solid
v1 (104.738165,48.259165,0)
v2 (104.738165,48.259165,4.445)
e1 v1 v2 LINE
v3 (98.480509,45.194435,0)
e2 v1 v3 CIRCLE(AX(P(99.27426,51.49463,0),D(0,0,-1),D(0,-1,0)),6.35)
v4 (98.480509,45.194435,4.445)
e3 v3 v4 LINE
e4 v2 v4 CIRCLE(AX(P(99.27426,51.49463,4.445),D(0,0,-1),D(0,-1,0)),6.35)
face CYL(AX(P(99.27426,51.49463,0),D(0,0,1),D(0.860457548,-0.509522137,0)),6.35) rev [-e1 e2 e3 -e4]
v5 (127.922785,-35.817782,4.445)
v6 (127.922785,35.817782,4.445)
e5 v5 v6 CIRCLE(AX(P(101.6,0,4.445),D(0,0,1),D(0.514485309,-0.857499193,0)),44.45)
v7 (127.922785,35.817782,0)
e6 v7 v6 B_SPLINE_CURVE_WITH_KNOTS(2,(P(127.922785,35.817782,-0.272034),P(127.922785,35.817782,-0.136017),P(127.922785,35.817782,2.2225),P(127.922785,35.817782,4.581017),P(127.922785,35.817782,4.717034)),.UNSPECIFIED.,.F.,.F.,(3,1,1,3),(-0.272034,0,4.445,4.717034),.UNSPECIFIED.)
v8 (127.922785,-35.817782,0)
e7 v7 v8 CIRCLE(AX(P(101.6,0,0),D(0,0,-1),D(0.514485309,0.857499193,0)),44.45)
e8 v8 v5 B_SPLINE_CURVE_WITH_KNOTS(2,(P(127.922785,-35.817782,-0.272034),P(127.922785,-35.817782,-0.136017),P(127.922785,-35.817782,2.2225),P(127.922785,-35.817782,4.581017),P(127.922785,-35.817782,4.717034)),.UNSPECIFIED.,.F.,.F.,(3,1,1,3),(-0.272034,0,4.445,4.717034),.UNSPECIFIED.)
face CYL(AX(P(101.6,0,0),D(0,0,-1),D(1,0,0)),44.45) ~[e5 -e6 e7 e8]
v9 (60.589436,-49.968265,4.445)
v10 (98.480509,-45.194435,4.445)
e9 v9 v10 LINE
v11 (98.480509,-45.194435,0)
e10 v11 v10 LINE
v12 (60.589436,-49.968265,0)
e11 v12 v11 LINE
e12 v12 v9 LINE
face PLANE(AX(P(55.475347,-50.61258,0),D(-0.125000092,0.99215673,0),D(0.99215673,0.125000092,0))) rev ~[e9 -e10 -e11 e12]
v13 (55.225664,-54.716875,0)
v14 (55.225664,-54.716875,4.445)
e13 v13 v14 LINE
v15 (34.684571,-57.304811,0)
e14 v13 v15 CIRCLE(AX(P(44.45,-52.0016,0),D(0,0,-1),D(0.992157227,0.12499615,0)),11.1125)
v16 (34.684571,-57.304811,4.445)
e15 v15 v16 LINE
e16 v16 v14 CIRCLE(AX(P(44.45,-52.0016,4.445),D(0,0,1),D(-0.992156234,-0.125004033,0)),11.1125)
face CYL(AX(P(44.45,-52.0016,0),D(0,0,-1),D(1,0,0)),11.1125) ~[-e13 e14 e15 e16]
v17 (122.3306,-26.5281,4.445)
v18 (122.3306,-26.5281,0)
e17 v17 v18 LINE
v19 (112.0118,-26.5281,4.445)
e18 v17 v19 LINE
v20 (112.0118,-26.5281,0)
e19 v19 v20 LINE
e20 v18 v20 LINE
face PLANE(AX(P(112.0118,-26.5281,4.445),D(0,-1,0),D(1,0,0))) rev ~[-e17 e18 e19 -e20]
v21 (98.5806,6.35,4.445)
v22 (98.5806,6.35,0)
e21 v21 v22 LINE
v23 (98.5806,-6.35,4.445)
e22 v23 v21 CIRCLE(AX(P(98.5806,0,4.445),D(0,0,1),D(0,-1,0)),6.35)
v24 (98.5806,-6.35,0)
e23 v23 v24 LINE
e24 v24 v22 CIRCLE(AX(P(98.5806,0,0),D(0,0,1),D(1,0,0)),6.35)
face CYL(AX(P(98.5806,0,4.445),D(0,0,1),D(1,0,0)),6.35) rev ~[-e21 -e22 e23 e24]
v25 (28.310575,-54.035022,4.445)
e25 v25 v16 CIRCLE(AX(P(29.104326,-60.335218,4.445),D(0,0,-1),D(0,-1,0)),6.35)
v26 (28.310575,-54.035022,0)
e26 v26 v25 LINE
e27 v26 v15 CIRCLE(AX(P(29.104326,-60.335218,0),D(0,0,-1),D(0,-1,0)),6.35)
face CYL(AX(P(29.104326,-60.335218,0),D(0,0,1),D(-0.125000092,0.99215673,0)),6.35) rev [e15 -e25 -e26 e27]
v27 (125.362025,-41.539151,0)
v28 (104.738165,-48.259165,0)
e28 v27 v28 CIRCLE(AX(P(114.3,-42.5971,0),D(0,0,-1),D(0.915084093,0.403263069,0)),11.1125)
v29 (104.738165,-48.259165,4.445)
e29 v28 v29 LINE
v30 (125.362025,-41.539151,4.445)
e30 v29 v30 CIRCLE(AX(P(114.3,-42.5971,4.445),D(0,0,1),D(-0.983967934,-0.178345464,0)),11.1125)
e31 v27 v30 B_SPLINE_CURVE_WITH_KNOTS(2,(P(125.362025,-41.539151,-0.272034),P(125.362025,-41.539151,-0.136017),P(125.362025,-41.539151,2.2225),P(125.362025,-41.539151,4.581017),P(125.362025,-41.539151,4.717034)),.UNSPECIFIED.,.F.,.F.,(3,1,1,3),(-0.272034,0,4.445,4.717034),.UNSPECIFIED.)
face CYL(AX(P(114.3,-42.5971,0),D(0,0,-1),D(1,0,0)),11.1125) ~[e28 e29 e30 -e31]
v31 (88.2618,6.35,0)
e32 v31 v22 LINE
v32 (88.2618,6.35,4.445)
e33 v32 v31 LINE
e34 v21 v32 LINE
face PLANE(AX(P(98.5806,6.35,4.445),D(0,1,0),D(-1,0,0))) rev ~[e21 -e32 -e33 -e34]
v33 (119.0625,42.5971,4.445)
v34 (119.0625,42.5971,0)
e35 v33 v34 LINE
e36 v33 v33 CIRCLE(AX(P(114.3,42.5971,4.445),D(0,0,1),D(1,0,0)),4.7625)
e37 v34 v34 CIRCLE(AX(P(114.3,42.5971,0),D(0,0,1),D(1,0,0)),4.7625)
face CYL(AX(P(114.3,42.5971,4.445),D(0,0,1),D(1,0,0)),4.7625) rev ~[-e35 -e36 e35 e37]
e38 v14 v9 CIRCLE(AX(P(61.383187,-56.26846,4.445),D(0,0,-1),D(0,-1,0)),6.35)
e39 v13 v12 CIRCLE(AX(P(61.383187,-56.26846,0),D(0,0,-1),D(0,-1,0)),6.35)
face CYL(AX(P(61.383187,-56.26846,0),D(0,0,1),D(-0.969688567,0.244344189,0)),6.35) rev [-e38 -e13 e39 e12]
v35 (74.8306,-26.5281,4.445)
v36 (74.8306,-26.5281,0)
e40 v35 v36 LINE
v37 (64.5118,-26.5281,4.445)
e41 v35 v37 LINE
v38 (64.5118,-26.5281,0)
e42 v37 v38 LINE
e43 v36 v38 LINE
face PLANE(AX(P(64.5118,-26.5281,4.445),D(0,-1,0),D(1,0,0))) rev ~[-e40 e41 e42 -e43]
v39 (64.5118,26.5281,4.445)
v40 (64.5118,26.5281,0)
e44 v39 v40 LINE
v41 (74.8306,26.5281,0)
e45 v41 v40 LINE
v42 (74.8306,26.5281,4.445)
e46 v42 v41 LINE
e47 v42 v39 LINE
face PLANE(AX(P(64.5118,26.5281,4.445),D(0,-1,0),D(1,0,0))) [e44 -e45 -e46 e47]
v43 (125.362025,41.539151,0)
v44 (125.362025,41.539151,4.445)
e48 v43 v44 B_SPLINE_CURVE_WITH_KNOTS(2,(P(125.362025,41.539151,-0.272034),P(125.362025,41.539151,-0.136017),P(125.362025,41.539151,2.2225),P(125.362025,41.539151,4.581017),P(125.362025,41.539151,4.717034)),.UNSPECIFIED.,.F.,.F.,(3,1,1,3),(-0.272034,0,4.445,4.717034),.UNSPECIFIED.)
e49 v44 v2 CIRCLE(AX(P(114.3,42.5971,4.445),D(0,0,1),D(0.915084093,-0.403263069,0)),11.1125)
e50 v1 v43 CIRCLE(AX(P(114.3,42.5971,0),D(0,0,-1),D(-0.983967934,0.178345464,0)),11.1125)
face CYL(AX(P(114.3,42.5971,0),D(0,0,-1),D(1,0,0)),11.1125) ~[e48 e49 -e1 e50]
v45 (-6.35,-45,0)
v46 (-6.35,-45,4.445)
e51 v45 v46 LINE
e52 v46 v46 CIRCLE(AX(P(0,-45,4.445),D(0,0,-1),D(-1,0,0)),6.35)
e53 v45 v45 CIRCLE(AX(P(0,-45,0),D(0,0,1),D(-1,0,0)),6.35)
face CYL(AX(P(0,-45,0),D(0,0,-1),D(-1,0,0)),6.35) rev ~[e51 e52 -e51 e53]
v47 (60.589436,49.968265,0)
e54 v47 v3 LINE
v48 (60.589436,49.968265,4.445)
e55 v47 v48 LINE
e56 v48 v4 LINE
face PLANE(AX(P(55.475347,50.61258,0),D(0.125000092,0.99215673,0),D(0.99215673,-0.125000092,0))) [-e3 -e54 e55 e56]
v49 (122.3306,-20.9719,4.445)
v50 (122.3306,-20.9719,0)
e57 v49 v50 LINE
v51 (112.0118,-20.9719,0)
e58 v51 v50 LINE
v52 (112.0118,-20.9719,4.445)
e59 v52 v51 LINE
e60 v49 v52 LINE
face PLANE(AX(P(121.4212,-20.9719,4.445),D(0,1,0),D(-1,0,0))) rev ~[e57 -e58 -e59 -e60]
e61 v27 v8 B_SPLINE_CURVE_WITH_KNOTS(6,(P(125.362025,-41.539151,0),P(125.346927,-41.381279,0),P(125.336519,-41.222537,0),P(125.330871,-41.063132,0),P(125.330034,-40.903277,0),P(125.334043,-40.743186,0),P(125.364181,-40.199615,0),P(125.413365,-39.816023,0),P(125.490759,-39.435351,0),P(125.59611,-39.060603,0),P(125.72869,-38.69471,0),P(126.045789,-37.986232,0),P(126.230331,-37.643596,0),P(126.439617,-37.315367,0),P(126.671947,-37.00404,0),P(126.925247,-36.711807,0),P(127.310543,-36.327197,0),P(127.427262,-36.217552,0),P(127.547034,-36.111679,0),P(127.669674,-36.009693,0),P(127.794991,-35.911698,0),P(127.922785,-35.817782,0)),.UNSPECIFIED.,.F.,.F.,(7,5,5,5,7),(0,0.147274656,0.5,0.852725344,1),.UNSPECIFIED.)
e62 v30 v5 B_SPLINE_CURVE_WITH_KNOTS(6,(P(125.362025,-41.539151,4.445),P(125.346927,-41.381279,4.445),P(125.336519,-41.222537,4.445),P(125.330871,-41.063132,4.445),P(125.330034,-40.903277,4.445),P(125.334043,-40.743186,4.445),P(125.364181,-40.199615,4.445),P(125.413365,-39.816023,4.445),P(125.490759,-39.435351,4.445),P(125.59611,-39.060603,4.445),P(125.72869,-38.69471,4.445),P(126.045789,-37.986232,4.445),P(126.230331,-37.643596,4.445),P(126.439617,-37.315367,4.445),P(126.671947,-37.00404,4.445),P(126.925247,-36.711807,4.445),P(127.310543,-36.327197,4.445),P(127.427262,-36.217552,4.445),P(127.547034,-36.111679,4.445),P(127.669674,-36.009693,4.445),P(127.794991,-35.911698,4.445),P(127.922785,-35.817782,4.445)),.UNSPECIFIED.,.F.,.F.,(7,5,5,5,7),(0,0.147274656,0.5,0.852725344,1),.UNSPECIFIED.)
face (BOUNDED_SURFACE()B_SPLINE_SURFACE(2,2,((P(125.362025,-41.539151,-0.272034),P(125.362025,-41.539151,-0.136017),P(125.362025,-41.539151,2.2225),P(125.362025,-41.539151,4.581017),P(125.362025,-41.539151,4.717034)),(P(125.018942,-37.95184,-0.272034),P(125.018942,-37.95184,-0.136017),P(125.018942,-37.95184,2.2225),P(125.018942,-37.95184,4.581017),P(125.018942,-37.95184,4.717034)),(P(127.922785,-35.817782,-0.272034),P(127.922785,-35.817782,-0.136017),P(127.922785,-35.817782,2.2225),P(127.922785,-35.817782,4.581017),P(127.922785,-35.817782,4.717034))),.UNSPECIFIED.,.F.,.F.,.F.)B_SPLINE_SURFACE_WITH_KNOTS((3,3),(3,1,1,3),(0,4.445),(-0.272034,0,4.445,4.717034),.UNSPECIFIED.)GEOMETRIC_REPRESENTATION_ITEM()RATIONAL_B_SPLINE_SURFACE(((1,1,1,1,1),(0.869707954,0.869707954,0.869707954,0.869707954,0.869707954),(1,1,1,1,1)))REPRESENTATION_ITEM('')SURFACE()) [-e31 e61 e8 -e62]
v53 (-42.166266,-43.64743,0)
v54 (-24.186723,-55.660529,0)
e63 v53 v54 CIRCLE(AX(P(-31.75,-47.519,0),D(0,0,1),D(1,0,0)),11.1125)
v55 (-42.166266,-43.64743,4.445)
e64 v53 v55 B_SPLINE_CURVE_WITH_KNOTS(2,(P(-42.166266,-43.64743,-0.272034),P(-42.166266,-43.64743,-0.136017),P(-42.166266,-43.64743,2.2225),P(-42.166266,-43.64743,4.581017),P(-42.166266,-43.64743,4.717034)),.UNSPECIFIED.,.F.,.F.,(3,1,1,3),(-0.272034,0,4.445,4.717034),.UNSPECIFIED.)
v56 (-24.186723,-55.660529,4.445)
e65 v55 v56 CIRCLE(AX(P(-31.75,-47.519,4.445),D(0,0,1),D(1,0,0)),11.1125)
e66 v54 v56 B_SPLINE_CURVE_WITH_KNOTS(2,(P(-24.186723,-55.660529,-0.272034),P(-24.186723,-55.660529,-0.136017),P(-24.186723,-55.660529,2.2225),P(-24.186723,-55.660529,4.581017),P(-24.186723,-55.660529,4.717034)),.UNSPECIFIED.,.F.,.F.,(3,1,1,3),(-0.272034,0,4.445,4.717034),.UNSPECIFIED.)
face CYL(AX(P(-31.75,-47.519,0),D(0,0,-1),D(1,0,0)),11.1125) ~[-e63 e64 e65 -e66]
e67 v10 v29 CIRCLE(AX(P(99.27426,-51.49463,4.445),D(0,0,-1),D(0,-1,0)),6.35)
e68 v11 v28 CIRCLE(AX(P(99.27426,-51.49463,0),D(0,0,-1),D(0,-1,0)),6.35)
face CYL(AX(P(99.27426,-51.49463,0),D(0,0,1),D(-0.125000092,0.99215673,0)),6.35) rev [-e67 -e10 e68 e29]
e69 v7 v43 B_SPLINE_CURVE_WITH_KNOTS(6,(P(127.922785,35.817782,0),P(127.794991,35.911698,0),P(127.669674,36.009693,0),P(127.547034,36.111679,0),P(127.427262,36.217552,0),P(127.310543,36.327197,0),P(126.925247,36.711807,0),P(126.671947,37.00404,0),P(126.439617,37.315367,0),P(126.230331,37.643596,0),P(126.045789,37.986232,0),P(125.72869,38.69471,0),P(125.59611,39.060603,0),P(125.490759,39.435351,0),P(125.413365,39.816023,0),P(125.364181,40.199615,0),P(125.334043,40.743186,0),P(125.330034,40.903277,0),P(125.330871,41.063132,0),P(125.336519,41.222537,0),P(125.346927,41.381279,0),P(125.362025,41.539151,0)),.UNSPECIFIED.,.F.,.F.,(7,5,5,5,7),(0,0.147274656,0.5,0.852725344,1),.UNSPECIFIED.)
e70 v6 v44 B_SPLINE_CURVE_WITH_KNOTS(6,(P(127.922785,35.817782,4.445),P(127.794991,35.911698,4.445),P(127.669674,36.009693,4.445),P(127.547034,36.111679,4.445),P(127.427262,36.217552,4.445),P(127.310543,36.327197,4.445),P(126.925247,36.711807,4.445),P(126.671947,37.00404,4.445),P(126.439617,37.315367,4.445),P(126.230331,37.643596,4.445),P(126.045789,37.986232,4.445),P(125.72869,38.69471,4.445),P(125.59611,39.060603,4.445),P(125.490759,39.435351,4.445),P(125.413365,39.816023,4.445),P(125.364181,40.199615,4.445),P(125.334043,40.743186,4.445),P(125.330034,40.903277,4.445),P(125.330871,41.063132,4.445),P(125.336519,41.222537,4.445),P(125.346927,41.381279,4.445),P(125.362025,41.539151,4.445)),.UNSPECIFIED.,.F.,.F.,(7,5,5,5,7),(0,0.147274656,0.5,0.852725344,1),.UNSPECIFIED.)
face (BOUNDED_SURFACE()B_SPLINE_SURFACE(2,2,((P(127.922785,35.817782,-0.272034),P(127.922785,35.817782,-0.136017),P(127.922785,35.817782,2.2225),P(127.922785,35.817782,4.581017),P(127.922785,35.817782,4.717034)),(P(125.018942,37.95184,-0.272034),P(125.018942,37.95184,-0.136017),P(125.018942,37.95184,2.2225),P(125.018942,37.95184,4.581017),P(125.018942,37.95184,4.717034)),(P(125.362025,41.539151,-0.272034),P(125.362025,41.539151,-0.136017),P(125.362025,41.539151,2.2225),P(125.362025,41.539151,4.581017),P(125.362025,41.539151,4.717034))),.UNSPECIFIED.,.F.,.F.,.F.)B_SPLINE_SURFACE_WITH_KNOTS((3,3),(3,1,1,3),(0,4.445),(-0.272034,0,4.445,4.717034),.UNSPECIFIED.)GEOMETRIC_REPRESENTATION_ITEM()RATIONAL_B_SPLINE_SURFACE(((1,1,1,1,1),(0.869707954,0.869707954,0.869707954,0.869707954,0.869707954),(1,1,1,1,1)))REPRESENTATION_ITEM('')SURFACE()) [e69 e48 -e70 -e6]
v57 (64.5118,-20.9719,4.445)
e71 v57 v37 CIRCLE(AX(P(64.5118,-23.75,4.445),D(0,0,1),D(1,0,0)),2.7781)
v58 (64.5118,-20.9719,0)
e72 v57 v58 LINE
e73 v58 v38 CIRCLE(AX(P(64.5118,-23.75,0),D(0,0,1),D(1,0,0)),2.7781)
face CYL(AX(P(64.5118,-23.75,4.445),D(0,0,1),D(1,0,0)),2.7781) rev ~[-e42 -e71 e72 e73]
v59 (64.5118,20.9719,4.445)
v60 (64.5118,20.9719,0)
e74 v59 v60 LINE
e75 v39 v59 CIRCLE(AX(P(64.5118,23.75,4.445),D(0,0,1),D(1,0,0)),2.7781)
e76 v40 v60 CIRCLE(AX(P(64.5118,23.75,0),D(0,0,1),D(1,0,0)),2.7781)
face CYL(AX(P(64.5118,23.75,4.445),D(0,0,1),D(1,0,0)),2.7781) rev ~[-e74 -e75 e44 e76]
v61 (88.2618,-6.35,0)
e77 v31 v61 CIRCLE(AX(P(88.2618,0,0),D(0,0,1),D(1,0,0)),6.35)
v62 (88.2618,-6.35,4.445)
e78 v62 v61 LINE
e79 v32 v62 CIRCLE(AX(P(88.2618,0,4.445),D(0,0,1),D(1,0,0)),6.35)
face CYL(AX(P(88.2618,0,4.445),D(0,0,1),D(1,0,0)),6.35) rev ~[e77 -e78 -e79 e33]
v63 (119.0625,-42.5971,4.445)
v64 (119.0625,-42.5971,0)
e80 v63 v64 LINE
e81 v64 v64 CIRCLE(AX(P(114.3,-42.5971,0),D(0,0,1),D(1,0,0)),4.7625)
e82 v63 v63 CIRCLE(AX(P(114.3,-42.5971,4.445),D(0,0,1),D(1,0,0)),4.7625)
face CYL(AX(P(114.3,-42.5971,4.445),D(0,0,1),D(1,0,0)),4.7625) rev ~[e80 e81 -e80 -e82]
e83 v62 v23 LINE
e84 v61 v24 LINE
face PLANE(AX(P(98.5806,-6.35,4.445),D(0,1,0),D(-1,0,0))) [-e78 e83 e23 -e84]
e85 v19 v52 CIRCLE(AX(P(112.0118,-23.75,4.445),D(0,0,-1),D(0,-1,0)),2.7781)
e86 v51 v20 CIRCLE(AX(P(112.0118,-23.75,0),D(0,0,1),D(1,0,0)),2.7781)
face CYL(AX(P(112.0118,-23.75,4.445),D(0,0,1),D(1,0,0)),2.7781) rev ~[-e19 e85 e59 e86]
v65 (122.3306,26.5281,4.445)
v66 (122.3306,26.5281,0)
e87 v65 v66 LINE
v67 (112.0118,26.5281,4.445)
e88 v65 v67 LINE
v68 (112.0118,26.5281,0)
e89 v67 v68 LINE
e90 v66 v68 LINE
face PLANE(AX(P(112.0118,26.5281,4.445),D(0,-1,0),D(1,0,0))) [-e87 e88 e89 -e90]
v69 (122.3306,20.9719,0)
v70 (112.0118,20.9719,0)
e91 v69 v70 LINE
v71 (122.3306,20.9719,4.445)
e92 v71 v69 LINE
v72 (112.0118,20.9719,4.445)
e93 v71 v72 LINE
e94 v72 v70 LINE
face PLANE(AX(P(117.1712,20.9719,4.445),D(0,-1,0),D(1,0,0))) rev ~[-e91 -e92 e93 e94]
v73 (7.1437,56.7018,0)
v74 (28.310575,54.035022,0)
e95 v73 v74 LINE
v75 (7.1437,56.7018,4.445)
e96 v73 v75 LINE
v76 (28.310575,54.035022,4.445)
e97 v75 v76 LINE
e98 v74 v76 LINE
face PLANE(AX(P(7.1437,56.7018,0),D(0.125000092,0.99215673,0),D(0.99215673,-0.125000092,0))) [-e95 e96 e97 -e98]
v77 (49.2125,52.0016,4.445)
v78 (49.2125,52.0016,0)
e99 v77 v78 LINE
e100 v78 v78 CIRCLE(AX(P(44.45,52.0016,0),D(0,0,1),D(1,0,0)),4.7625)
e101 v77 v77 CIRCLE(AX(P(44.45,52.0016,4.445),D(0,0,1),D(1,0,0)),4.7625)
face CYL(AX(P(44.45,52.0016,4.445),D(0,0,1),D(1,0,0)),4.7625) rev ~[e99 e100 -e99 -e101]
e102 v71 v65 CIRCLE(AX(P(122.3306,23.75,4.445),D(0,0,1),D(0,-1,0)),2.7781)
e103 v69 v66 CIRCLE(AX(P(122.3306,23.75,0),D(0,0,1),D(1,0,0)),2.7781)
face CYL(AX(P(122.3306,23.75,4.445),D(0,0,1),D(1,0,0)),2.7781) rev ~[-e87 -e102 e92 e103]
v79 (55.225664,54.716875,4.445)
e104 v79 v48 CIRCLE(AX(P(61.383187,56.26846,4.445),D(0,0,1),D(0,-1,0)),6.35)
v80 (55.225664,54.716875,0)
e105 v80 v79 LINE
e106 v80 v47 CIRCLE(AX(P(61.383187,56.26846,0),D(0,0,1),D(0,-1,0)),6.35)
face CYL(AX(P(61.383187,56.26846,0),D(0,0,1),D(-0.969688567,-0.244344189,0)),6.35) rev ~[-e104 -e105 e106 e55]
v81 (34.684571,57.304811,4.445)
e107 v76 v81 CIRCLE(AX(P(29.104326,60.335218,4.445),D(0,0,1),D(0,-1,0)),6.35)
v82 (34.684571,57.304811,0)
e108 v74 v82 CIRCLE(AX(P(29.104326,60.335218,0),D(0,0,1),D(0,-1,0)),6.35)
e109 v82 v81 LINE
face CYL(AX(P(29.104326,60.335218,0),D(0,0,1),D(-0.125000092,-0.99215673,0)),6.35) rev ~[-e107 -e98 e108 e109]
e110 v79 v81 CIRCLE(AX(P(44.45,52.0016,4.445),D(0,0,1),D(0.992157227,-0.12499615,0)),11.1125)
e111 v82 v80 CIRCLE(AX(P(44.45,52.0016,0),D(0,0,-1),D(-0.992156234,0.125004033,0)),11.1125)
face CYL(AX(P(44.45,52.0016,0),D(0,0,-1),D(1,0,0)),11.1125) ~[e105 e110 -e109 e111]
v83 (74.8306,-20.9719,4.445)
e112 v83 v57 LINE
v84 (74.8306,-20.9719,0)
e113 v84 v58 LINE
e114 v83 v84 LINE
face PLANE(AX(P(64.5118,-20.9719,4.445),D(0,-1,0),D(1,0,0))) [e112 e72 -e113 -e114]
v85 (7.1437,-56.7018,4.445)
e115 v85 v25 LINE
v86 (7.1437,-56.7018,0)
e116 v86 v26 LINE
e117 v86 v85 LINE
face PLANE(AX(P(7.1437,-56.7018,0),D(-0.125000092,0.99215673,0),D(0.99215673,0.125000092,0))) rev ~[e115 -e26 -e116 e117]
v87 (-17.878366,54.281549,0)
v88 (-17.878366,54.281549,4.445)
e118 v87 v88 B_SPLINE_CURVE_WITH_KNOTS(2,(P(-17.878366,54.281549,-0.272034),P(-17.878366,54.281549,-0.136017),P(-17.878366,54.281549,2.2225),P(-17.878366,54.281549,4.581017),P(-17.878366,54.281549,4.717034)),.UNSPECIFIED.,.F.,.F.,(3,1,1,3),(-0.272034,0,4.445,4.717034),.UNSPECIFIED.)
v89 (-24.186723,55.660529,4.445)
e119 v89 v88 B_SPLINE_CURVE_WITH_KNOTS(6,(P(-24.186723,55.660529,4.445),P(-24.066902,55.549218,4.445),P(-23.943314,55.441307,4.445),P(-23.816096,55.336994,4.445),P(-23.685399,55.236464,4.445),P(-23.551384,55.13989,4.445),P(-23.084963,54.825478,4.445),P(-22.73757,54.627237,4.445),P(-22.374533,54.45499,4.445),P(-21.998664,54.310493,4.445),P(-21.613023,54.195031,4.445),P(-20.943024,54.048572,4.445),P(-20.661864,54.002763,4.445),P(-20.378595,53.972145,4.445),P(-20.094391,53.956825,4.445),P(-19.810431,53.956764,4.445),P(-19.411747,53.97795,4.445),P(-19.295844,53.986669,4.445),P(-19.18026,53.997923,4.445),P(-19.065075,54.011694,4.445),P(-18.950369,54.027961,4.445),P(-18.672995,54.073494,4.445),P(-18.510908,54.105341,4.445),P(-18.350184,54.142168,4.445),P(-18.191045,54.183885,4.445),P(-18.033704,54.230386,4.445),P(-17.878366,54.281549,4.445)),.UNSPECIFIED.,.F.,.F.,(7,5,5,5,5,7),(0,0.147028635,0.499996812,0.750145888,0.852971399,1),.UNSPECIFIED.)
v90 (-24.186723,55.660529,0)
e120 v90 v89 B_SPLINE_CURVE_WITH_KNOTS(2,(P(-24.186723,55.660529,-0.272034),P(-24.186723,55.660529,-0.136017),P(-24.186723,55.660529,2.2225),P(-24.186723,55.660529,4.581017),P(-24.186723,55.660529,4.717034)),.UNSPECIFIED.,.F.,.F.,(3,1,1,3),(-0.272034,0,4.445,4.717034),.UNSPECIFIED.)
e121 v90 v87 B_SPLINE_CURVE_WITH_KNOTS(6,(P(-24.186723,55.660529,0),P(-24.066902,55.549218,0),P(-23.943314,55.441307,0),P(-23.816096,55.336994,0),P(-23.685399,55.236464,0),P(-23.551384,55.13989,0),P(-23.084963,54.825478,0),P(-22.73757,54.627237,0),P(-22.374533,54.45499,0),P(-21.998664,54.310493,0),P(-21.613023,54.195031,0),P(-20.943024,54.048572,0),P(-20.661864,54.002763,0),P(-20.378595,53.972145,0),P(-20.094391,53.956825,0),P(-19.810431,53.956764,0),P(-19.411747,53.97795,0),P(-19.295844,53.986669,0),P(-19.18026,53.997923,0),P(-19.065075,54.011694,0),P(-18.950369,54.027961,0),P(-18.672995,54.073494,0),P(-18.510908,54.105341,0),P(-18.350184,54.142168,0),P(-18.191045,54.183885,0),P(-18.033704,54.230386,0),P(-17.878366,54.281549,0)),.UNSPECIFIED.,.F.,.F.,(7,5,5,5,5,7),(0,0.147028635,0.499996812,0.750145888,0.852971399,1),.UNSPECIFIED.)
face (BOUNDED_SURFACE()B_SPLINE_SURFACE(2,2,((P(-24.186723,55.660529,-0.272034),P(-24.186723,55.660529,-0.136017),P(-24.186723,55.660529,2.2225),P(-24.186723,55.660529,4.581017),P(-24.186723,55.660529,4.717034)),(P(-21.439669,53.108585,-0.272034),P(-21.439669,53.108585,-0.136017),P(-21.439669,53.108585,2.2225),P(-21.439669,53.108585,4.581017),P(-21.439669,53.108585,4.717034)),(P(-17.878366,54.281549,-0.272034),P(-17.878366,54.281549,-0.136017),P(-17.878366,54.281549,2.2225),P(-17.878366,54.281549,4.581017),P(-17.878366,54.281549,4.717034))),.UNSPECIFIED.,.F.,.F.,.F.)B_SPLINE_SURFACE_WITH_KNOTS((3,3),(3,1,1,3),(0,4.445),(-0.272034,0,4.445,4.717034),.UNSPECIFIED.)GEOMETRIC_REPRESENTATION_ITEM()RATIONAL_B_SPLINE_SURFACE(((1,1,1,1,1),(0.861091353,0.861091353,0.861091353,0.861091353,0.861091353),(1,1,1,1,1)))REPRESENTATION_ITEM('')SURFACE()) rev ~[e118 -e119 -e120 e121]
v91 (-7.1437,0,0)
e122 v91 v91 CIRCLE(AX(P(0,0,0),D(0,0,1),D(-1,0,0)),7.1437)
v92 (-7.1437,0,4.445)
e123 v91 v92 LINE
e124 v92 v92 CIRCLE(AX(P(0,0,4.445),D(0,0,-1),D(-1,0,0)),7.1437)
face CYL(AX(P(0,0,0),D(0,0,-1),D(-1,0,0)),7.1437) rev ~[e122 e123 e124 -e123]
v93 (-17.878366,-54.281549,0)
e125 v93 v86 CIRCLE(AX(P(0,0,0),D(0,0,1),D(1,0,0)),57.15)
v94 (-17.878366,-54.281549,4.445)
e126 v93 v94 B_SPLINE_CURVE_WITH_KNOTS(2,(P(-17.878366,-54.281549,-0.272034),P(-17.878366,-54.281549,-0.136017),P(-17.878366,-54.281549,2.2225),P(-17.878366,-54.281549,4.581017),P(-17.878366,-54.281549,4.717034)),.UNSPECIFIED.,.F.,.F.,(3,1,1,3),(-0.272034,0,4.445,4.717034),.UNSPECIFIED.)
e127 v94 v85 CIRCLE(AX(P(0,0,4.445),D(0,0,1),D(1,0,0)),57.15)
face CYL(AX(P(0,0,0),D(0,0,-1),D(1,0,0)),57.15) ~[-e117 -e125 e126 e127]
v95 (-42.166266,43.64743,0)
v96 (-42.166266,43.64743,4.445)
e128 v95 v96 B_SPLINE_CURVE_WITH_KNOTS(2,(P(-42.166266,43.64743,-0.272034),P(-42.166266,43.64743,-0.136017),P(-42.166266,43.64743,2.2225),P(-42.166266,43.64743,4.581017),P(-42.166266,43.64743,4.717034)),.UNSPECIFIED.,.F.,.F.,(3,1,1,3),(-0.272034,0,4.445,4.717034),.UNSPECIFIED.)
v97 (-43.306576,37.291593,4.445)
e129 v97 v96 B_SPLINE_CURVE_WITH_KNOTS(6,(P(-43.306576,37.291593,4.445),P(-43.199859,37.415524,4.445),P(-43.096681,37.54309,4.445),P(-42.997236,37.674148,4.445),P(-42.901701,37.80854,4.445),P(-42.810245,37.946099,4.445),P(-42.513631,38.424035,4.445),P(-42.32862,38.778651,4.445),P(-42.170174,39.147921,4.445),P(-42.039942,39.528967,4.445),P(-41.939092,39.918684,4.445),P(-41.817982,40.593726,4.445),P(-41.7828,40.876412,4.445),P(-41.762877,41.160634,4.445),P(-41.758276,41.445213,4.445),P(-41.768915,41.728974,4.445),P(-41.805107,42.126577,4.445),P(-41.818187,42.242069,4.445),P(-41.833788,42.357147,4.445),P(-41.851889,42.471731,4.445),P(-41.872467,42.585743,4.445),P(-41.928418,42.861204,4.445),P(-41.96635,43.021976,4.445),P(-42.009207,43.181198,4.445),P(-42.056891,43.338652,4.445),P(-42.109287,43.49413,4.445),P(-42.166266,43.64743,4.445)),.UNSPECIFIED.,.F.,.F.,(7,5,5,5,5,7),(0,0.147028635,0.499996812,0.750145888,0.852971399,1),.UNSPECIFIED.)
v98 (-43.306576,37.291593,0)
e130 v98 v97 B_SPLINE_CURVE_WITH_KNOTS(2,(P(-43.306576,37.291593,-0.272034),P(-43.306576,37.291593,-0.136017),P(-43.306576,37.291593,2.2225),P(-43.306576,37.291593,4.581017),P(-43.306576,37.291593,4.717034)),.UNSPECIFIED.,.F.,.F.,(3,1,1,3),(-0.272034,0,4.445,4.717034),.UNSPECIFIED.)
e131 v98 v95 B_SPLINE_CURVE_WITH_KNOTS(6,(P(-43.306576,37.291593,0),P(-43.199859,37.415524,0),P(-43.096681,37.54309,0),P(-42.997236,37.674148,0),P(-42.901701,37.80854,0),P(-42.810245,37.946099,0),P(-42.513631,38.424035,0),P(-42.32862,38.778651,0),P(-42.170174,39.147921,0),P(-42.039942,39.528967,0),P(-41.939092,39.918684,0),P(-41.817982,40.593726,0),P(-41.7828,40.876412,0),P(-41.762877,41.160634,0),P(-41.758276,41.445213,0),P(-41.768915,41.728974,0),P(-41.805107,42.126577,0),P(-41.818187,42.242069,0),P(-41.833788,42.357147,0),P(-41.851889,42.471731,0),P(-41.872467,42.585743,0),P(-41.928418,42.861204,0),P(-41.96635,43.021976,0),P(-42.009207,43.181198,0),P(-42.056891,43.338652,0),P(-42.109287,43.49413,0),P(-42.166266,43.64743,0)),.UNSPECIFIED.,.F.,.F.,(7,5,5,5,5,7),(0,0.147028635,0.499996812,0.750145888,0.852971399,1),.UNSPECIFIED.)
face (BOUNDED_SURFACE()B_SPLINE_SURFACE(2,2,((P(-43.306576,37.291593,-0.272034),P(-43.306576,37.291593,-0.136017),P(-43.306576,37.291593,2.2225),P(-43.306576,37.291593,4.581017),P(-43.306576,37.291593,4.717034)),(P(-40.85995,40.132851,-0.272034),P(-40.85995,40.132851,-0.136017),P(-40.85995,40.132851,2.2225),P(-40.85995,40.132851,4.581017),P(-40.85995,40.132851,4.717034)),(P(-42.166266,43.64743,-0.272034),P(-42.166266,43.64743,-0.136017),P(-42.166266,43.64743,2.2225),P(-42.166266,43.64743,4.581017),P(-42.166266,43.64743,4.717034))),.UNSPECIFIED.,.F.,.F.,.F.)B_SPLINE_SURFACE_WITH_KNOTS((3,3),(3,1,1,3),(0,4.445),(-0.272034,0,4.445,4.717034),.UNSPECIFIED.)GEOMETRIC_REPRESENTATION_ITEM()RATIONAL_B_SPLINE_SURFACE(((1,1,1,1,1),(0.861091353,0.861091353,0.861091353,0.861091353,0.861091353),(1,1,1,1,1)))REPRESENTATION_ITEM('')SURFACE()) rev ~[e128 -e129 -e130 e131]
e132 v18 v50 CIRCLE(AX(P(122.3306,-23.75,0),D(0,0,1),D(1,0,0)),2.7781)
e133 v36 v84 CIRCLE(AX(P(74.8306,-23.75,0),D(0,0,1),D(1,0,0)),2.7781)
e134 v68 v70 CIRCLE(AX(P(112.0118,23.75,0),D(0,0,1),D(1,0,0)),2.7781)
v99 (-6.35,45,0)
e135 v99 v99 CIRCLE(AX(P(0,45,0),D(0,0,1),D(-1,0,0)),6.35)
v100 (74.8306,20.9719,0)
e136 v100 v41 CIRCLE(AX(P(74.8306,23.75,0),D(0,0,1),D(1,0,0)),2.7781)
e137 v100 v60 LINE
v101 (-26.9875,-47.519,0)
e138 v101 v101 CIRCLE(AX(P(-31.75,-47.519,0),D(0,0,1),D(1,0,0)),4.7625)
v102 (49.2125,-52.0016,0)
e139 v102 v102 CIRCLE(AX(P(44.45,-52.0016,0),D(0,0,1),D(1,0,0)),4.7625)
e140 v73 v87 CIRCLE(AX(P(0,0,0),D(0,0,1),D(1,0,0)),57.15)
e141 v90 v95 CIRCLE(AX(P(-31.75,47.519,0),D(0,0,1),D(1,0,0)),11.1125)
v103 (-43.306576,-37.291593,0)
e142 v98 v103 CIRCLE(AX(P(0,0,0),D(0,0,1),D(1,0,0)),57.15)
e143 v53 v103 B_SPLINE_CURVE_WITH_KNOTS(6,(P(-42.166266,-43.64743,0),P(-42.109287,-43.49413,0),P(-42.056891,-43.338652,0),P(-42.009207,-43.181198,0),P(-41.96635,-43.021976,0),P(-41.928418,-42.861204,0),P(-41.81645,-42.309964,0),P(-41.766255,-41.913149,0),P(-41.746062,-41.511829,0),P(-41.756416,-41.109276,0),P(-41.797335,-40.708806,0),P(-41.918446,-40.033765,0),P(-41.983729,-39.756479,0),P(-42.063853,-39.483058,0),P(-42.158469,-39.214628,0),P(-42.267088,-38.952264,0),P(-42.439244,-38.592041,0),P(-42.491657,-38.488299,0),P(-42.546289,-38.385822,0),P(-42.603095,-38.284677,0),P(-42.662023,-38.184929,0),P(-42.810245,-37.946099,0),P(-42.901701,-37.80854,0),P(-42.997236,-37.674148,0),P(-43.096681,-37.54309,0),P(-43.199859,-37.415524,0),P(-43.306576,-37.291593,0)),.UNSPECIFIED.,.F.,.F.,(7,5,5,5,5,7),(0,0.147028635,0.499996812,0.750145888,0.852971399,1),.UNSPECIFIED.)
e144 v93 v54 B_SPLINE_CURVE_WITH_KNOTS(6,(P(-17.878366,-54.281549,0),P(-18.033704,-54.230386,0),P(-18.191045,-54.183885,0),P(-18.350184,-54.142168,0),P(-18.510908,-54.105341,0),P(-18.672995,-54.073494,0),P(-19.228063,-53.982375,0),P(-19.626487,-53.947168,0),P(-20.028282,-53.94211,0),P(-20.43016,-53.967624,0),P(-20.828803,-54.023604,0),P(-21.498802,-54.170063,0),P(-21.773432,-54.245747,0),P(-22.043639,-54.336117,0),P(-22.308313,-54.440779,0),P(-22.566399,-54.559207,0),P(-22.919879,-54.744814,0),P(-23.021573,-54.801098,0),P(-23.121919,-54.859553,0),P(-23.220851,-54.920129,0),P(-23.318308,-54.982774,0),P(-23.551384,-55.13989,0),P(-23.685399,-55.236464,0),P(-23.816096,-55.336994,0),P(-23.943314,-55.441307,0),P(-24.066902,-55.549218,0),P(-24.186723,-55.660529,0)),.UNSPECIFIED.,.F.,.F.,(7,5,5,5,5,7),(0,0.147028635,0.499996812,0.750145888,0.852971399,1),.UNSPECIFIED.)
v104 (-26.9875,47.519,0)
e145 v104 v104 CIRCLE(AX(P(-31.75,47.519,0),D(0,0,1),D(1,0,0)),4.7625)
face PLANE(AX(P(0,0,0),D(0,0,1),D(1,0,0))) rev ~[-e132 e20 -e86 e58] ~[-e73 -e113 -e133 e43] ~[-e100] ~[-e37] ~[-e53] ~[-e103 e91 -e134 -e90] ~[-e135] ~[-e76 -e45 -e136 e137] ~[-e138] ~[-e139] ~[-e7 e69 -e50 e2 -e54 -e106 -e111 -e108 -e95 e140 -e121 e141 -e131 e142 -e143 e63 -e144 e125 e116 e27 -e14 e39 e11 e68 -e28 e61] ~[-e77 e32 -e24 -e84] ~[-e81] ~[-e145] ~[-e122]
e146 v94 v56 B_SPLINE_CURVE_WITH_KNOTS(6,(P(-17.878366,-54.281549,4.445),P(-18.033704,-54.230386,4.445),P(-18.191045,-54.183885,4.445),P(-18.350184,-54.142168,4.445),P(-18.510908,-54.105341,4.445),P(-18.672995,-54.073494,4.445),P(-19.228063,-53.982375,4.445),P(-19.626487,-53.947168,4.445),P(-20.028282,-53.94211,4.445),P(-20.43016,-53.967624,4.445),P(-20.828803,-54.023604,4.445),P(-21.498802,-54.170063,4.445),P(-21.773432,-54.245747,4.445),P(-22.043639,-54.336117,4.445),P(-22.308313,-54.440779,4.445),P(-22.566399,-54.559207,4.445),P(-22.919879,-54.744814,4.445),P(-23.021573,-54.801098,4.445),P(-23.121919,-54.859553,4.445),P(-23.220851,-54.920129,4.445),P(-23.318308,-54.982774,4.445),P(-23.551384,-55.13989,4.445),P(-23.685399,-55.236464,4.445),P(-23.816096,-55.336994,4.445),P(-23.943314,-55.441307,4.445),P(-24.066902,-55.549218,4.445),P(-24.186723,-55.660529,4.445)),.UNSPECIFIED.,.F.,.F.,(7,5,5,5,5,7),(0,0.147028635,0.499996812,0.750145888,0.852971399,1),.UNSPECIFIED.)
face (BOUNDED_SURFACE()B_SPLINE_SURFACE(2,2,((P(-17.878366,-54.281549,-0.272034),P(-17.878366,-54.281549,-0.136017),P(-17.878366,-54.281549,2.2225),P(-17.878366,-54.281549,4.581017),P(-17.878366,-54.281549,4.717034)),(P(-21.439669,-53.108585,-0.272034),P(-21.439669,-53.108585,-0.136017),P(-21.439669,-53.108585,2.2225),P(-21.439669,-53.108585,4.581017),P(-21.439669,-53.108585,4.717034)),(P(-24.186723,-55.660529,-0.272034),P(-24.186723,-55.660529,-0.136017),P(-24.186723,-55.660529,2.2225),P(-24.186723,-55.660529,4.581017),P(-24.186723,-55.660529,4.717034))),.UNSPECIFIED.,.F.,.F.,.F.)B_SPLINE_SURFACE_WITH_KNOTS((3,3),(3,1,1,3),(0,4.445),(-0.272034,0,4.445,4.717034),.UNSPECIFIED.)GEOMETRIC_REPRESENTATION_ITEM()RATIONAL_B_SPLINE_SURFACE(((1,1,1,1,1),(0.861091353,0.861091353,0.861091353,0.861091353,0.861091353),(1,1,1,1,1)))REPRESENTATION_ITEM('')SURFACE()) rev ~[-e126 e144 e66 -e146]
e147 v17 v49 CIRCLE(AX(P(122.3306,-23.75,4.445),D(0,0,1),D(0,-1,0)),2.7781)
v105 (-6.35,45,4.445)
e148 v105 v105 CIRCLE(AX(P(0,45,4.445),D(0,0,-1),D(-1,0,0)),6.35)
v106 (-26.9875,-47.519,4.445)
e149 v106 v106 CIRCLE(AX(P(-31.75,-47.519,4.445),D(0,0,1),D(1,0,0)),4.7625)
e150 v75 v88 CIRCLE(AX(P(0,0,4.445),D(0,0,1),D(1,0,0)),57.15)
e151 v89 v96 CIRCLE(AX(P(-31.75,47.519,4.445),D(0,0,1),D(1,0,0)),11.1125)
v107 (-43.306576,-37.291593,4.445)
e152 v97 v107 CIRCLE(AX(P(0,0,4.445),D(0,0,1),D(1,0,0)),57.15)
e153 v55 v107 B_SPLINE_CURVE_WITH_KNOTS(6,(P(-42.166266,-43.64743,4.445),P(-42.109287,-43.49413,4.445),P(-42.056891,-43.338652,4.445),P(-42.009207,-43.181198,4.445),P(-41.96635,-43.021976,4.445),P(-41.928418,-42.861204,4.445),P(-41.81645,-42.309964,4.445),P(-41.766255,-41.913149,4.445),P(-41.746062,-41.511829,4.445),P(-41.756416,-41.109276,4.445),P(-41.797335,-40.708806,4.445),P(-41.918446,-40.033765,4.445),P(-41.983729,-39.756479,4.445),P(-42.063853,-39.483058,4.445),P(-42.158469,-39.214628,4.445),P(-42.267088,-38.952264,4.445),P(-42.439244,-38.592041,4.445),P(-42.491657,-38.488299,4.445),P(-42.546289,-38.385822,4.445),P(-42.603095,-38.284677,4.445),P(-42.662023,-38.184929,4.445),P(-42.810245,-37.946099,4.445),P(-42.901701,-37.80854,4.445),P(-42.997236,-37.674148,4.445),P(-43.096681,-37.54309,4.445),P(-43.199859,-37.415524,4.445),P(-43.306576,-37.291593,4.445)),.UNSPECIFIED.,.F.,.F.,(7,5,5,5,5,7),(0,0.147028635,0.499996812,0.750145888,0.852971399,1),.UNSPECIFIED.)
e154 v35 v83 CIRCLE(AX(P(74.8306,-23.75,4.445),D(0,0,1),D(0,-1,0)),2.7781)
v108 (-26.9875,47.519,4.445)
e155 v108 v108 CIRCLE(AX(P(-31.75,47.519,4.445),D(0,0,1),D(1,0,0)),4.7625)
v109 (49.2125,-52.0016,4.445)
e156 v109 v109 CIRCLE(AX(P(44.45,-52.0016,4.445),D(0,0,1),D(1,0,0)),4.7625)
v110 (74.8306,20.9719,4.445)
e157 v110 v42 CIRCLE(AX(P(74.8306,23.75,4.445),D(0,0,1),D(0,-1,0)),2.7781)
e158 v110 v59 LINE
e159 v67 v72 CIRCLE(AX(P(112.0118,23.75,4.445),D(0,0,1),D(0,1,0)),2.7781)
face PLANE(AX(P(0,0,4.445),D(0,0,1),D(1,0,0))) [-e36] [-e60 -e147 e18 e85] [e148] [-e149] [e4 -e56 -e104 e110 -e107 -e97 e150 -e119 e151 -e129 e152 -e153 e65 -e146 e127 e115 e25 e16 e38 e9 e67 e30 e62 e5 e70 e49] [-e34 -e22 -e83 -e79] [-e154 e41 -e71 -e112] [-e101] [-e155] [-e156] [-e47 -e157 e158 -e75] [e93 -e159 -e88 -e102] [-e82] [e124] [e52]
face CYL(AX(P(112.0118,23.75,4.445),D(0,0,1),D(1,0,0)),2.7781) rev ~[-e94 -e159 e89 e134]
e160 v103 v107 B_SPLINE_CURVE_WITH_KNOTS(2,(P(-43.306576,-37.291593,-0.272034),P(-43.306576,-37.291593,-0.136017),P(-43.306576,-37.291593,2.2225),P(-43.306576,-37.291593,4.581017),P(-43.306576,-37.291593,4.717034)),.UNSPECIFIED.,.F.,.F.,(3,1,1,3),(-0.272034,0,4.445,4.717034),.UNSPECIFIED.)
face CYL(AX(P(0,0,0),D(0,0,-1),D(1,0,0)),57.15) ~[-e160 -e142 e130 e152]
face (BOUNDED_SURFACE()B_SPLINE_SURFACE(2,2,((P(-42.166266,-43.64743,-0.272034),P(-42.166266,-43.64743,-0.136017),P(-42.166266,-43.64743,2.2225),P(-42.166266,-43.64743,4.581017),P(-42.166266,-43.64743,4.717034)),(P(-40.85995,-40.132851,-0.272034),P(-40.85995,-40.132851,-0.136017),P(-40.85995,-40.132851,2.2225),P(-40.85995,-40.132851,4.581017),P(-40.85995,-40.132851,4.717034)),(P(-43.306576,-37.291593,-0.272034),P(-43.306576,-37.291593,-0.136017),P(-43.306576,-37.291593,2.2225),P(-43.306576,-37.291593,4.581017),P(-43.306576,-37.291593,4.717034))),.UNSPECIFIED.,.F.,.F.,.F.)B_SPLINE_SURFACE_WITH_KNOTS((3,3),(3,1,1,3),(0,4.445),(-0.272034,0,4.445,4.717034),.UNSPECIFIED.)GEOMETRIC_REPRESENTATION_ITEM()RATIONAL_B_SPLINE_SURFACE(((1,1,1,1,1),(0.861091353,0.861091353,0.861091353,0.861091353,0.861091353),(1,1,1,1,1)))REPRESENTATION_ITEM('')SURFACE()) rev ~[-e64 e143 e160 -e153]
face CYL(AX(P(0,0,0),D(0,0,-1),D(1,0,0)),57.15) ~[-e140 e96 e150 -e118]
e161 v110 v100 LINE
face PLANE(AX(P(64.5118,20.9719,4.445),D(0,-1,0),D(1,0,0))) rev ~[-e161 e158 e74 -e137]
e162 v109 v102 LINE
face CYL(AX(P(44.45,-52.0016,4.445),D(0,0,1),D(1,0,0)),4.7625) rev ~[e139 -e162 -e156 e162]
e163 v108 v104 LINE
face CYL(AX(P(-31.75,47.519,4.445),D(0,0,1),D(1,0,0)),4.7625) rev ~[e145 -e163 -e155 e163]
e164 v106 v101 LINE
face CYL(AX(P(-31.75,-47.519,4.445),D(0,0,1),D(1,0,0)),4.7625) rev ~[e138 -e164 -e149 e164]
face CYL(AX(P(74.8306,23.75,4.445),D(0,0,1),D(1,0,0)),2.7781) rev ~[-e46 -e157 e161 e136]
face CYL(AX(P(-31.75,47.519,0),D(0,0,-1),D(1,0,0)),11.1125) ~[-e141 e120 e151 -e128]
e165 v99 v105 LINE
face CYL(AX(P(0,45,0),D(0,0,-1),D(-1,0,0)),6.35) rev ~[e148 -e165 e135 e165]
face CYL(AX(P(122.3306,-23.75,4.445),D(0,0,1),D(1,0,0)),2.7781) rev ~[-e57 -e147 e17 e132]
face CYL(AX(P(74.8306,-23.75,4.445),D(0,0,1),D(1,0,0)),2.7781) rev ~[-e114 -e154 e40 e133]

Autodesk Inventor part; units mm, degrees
ref_plane "YZ Plane" through (0, 0, 0) normal (1, 0, 0) x (0, 1, 0)
ref_plane "XZ Plane" through (0, 0, 0) normal (0, 1, 0) x (-1, 0, 0)
ref_plane "XY Plane" through (0, 0, 0) normal (0, 0, 1) x (1, 0, 0)
sketch "Boceto1" plane through (0, 0, 0) normal (0, 0, 1) x (1, 0, 0)
  circle A0 centre (0, 0) radius 57.15
  circle A1 centre (101.6, 0) radius 44.45
  circle A2 centre (-31.75, 47.519) radius 11.1125
  circle A3 centre (-31.75, -47.519) radius 11.1125
  circle A4 centre (114.3, 42.5971) radius 11.1125
  circle A5 centre (114.3, -42.5971) radius 11.1125
  line L0 (7.1437, 56.7018) -> (107.1562, 44.1014)
  circle A6 centre (44.45, 52.0016) radius 11.1125
  line L1 (7.1437, -56.7018) -> (107.1562, -44.1014)
  circle A7 centre (44.45, -52.0016) radius 11.1125
  dimension "d0" = 114.3
  dimension "d1" = 88.9
  dimension "d2" = 203.2
  dimension "d3" = 22.225
  dimension "d4" = 22.225
  dimension "d7" = 22.225
  dimension "d8" = 22.225
  dimension "d11" = 22.225
  dimension "d13" = 0
  dimension "d14" = 22.225
  dimension "d27" = 12.7
  dimension "d28" = 12.7
  dimension "d29" = 44.45
  dimension "d30" = 44.45
  dimension "d31" = 31.75
  dimension "d32" = 31.75
extrude "Extrusión1" add sketch "Boceto1" along normal blind 4.445
sketch "Boceto2" plane through (0, 0, 4.445) normal (0, 0, 1) x (1, 0, 0)
  arc A0 (-21.9537, 52.7651) -> (-40.3458, 40.4764) centre (-31.75, 47.519) ccw projected
  circle A1 centre (-31.75, 47.519) radius 4.7625
  arc A2 (-40.3458, -40.4764) -> (-21.9537, -52.7651) centre (-31.75, -47.519) ccw projected
  circle A3 centre (-31.75, -47.519) radius 4.7625
  arc A4 (33.4247, -53.3907) -> (55.4753, -50.6125) centre (44.45, -52.0016) ccw projected
  circle A5 centre (44.45, -52.0016) radius 4.7625
  arc A6 (55.4753, 50.6125) -> (33.4247, 53.3907) centre (44.45, 52.0016) ccw projected
  circle A7 centre (44.45, 52.0016) radius 4.7625
  arc A8 (124.4689, 38.1158) -> (103.3657, 44.5789) centre (114.3, 42.5971) ccw projected
  circle A9 centre (114.3, 42.5971) radius 4.7625
  arc A10 (103.3657, -44.5789) -> (124.4689, -38.1158) centre (114.3, -42.5971) ccw projected
  circle A11 centre (114.3, -42.5971) radius 4.7625
  point P0 (0, 0)
  dimension "d18" = 9.525
  dimension "d19" = 9.525
  dimension "d20" = 9.525
  dimension "d21" = 9.525
  dimension "d22" = 9.525
  dimension "d23" = 9.525
extrude "Extrusión2" cut sketch "Boceto2" against normal up to surface (4.445 mm away)
fillet "Empalme1" radius 6.35 12 edges at (-21.9537, -52.7651, 2.2225) (-40.3458, -40.4764, 2.2225) (33.4247, -53.3907, 2.2225) (55.4753, -50.6125, 2.2225) (124.4689, -38.1158, 2.2225) (-40.3458, 40.4764, 2.2225) (-21.9537, 52.7651, 2.2225) (33.4247, 53.3907, 2.2225) (55.4753, 50.6125, 2.2225) (103.3657, 44.5789, 2.2225) (124.4689, 38.1158, 2.2225) (103.3657, -44.5789, 2.2225)
sketch "Boceto3" plane through (0, 0, 0) normal (0, 0, -1) x (-1, 0, 0)
  circle A0 centre (0, 0) radius 7.1437
  circle A1 centre (0, -45) radius 6.35
  circle A2 centre (0, 45) radius 6.35
  line L0 (0, -45) -> (0, 0)
  line L1 (0, 0) -> (0, 45)
  dimension "d33" = 14.2875
  dimension "d34" = 12.7
  dimension "d35" = 12.7
  dimension "d36" = 45
  dimension "d37" = 45
extrude "Extrusión3" cut sketch "Boceto3" against normal up to surface (4.445 mm away)
sketch "Boceto4" plane through (0, 0, 4.445) normal (0, 0, 1) x (1, 0, 0)
  circle A0 centre (93.4212, 0) radius 6.35
  line L0 (65.4212, -28) -> (121.4212, -28)
  line L1 (121.4212, -28) -> (121.4212, 28)
  line L2 (121.4212, 28) -> (65.4212, 28)
  line L3 (65.4212, 28) -> (65.4212, -28)
  line L4 (69.6712, -23.75) -> (117.1712, -23.75)
  line L5 (117.1712, -23.75) -> (117.1712, 23.75)
  line L6 (117.1712, 23.75) -> (69.6712, 23.75)
  line L7 (69.6712, 23.75) -> (69.6712, -23.75)
  circle A1 centre (74.8306, -23.75) radius 2.7781
  circle A2 centre (112.0118, -23.75) radius 2.7781
  circle A3 centre (122.3306, -23.75) radius 2.7781
  circle A4 centre (64.5118, -23.75) radius 2.7781
  line L8 (64.5118, -26.5281) -> (74.8306, -26.5281)
  line L9 (64.5118, -20.9719) -> (74.8306, -20.9719)
  line L10 (112.0118, -26.5281) -> (122.3306, -26.5281)
  line L11 (122.3306, -20.9719) -> (112.0118, -20.9719)
  circle A5 centre (74.8306, 23.75) radius 2.7781
  circle A6 centre (64.5118, 23.75) radius 2.7781
  line L12 (64.5118, 20.9719) -> (74.8306, 20.9719)
  line L13 (64.5118, 26.5281) -> (74.8306, 26.5281)
  circle A7 centre (112.0118, 23.75) radius 2.7781
  circle A8 centre (122.3306, 23.75) radius 2.7781
  line L14 (112.0118, 20.9719) -> (122.3306, 20.9719)
  line L15 (112.0118, 26.5281) -> (122.3306, 26.5281)
  circle A9 centre (98.5806, 0) radius 6.35
  circle A10 centre (88.2618, 0) radius 6.35
  line L16 (98.5806, 6.35) -> (88.2618, 6.35)
  line L17 (98.5806, -6.35) -> (88.2618, -6.35)
  point P0 (0, 0)
  dimension "d40" = 12.7
  dimension "d41" = 56
  dimension "d42" = 56
  dimension "d43" = 28
  dimension "d44" = 28
  dimension "d45" = 0
  dimension "d46" = 93.4212
  dimension "d47" = 47.5
  dimension "d48" = 47.5
  dimension "d49" = 23.75
  dimension "d50" = 23.75
  dimension "d57" = 5.5563
  dimension "d58" = 5.1594
  dimension "d59" = 5.5563
  dimension "d60" = 5.5563
  dimension "d61" = 5.1594
  dimension "d62" = 5.1594
  dimension "d63" = 5.5563
  dimension "d64" = 5.1594
  dimension "d65" = 0
  dimension "d66" = 5.5563
  dimension "d67" = 5.5563
  dimension "d68" = 5.1594
  dimension "d69" = 5.1594
  dimension "d70" = 0
  dimension "d71" = 5.5563
  dimension "d72" = 5.5563
  dimension "d73" = 5.1594
  dimension "d74" = 5.1594
  dimension "d75" = 0
  dimension "d78" = 12.7
  dimension "d79" = 12.7
  dimension "d80" = 5.1594
  dimension "d81" = 5.1594
extrude "Extrusión4" cut sketch "Boceto4" against normal up to next contours A0 A9 A10 | A0 A9 | A9 A10 A0 | A0 L16 A9 | A9 L17 A0 | A0 A10 A9 | A0 A10 L16 | A10 A9 | A9 A10 A0 | L17 A10 A0 | A0 A10 | L8 A4 L3 | L3 A4 L9 L7 L4 A1 L8 | L10 A2 L4 L5 L11 L1 A3 | L1 A3 L10 | A4 L3 | L3 A4 | A1 L4 | A3 L1 | L1 A3 | A2 L4 | A4 L9 L3 | L4 A1 | L4 L7 L9 A1 | L1 L11 A3 | A2 L11 L5 L4 | L4 A2 | L12 A6 L3 | L3 A6 L13 A5 L6 L7 L12 | L14 L5 L6 A7 L15 L1 A8 | L1 A8 L14 | A6 L3 | L3 A6 | L7 L6 A5 L12 | A8 L1 | L1 A8 | L14 A7 L6 L5 | A6 L13 L3 | A5 L6 | L1 L15 A8 | A7 L6 | A5 L6 | L6 A7
equation "\"d16\" = t"
equation "\"d18\" = Q"
equation "\"d19\" = Q"
equation "\"d20\" = Q"
equation "\"d21\" = Q"
equation "\"d22\" = Q"
equation "\"d23\" = Q"
equation "\"d33\" = DF"
equation "\"d34\" = NF"
equation "\"d35\" = NF"
equation "\"d36\" = 0.5 * JF"
equation "\"d37\" = 0.5 * JF"
equation "\"d40\" = DM"
equation "\"d41\" = AM"
equation "\"d42\" = AM"
equation "\"d43\" = 0.5 * AM"
equation "\"d44\" = 0.5 * AM"
equation "\"d46\" = CM"
equation "\"d47\" = BM"
equation "\"d48\" = BM"
equation "\"d49\" = 0.5 * BM"
equation "\"d50\" = 0.5 * BM"
equation "\"d57\" = NM"
equation "\"d59\" = NM"
equation "\"d60\" = NM"
equation "\"d63\" = NM"
equation "\"d66\" = NM"
equation "\"d67\" = NM"
equation "\"d71\" = NM"
equation "\"d72\" = NM"
equation "\"d78\" = DM"
equation "\"d79\" = DM"
equation "\"t\" = 4.445"
equation "\"Q\" = 9.525"
equation "\"DF\" = 14.2875"
equation "\"NF\" = 12.7"
equation "\"DM\" = 12.7"
equation "\"NM\" = 5.55625"
equation "\"CM\" = 93.4212"
equation "\"AM\" = 56"
equation "\"BM\" = 47.5"
equation "\"JF\" = 90"
properties part number "SIDE REDUCTION PLATE I"
